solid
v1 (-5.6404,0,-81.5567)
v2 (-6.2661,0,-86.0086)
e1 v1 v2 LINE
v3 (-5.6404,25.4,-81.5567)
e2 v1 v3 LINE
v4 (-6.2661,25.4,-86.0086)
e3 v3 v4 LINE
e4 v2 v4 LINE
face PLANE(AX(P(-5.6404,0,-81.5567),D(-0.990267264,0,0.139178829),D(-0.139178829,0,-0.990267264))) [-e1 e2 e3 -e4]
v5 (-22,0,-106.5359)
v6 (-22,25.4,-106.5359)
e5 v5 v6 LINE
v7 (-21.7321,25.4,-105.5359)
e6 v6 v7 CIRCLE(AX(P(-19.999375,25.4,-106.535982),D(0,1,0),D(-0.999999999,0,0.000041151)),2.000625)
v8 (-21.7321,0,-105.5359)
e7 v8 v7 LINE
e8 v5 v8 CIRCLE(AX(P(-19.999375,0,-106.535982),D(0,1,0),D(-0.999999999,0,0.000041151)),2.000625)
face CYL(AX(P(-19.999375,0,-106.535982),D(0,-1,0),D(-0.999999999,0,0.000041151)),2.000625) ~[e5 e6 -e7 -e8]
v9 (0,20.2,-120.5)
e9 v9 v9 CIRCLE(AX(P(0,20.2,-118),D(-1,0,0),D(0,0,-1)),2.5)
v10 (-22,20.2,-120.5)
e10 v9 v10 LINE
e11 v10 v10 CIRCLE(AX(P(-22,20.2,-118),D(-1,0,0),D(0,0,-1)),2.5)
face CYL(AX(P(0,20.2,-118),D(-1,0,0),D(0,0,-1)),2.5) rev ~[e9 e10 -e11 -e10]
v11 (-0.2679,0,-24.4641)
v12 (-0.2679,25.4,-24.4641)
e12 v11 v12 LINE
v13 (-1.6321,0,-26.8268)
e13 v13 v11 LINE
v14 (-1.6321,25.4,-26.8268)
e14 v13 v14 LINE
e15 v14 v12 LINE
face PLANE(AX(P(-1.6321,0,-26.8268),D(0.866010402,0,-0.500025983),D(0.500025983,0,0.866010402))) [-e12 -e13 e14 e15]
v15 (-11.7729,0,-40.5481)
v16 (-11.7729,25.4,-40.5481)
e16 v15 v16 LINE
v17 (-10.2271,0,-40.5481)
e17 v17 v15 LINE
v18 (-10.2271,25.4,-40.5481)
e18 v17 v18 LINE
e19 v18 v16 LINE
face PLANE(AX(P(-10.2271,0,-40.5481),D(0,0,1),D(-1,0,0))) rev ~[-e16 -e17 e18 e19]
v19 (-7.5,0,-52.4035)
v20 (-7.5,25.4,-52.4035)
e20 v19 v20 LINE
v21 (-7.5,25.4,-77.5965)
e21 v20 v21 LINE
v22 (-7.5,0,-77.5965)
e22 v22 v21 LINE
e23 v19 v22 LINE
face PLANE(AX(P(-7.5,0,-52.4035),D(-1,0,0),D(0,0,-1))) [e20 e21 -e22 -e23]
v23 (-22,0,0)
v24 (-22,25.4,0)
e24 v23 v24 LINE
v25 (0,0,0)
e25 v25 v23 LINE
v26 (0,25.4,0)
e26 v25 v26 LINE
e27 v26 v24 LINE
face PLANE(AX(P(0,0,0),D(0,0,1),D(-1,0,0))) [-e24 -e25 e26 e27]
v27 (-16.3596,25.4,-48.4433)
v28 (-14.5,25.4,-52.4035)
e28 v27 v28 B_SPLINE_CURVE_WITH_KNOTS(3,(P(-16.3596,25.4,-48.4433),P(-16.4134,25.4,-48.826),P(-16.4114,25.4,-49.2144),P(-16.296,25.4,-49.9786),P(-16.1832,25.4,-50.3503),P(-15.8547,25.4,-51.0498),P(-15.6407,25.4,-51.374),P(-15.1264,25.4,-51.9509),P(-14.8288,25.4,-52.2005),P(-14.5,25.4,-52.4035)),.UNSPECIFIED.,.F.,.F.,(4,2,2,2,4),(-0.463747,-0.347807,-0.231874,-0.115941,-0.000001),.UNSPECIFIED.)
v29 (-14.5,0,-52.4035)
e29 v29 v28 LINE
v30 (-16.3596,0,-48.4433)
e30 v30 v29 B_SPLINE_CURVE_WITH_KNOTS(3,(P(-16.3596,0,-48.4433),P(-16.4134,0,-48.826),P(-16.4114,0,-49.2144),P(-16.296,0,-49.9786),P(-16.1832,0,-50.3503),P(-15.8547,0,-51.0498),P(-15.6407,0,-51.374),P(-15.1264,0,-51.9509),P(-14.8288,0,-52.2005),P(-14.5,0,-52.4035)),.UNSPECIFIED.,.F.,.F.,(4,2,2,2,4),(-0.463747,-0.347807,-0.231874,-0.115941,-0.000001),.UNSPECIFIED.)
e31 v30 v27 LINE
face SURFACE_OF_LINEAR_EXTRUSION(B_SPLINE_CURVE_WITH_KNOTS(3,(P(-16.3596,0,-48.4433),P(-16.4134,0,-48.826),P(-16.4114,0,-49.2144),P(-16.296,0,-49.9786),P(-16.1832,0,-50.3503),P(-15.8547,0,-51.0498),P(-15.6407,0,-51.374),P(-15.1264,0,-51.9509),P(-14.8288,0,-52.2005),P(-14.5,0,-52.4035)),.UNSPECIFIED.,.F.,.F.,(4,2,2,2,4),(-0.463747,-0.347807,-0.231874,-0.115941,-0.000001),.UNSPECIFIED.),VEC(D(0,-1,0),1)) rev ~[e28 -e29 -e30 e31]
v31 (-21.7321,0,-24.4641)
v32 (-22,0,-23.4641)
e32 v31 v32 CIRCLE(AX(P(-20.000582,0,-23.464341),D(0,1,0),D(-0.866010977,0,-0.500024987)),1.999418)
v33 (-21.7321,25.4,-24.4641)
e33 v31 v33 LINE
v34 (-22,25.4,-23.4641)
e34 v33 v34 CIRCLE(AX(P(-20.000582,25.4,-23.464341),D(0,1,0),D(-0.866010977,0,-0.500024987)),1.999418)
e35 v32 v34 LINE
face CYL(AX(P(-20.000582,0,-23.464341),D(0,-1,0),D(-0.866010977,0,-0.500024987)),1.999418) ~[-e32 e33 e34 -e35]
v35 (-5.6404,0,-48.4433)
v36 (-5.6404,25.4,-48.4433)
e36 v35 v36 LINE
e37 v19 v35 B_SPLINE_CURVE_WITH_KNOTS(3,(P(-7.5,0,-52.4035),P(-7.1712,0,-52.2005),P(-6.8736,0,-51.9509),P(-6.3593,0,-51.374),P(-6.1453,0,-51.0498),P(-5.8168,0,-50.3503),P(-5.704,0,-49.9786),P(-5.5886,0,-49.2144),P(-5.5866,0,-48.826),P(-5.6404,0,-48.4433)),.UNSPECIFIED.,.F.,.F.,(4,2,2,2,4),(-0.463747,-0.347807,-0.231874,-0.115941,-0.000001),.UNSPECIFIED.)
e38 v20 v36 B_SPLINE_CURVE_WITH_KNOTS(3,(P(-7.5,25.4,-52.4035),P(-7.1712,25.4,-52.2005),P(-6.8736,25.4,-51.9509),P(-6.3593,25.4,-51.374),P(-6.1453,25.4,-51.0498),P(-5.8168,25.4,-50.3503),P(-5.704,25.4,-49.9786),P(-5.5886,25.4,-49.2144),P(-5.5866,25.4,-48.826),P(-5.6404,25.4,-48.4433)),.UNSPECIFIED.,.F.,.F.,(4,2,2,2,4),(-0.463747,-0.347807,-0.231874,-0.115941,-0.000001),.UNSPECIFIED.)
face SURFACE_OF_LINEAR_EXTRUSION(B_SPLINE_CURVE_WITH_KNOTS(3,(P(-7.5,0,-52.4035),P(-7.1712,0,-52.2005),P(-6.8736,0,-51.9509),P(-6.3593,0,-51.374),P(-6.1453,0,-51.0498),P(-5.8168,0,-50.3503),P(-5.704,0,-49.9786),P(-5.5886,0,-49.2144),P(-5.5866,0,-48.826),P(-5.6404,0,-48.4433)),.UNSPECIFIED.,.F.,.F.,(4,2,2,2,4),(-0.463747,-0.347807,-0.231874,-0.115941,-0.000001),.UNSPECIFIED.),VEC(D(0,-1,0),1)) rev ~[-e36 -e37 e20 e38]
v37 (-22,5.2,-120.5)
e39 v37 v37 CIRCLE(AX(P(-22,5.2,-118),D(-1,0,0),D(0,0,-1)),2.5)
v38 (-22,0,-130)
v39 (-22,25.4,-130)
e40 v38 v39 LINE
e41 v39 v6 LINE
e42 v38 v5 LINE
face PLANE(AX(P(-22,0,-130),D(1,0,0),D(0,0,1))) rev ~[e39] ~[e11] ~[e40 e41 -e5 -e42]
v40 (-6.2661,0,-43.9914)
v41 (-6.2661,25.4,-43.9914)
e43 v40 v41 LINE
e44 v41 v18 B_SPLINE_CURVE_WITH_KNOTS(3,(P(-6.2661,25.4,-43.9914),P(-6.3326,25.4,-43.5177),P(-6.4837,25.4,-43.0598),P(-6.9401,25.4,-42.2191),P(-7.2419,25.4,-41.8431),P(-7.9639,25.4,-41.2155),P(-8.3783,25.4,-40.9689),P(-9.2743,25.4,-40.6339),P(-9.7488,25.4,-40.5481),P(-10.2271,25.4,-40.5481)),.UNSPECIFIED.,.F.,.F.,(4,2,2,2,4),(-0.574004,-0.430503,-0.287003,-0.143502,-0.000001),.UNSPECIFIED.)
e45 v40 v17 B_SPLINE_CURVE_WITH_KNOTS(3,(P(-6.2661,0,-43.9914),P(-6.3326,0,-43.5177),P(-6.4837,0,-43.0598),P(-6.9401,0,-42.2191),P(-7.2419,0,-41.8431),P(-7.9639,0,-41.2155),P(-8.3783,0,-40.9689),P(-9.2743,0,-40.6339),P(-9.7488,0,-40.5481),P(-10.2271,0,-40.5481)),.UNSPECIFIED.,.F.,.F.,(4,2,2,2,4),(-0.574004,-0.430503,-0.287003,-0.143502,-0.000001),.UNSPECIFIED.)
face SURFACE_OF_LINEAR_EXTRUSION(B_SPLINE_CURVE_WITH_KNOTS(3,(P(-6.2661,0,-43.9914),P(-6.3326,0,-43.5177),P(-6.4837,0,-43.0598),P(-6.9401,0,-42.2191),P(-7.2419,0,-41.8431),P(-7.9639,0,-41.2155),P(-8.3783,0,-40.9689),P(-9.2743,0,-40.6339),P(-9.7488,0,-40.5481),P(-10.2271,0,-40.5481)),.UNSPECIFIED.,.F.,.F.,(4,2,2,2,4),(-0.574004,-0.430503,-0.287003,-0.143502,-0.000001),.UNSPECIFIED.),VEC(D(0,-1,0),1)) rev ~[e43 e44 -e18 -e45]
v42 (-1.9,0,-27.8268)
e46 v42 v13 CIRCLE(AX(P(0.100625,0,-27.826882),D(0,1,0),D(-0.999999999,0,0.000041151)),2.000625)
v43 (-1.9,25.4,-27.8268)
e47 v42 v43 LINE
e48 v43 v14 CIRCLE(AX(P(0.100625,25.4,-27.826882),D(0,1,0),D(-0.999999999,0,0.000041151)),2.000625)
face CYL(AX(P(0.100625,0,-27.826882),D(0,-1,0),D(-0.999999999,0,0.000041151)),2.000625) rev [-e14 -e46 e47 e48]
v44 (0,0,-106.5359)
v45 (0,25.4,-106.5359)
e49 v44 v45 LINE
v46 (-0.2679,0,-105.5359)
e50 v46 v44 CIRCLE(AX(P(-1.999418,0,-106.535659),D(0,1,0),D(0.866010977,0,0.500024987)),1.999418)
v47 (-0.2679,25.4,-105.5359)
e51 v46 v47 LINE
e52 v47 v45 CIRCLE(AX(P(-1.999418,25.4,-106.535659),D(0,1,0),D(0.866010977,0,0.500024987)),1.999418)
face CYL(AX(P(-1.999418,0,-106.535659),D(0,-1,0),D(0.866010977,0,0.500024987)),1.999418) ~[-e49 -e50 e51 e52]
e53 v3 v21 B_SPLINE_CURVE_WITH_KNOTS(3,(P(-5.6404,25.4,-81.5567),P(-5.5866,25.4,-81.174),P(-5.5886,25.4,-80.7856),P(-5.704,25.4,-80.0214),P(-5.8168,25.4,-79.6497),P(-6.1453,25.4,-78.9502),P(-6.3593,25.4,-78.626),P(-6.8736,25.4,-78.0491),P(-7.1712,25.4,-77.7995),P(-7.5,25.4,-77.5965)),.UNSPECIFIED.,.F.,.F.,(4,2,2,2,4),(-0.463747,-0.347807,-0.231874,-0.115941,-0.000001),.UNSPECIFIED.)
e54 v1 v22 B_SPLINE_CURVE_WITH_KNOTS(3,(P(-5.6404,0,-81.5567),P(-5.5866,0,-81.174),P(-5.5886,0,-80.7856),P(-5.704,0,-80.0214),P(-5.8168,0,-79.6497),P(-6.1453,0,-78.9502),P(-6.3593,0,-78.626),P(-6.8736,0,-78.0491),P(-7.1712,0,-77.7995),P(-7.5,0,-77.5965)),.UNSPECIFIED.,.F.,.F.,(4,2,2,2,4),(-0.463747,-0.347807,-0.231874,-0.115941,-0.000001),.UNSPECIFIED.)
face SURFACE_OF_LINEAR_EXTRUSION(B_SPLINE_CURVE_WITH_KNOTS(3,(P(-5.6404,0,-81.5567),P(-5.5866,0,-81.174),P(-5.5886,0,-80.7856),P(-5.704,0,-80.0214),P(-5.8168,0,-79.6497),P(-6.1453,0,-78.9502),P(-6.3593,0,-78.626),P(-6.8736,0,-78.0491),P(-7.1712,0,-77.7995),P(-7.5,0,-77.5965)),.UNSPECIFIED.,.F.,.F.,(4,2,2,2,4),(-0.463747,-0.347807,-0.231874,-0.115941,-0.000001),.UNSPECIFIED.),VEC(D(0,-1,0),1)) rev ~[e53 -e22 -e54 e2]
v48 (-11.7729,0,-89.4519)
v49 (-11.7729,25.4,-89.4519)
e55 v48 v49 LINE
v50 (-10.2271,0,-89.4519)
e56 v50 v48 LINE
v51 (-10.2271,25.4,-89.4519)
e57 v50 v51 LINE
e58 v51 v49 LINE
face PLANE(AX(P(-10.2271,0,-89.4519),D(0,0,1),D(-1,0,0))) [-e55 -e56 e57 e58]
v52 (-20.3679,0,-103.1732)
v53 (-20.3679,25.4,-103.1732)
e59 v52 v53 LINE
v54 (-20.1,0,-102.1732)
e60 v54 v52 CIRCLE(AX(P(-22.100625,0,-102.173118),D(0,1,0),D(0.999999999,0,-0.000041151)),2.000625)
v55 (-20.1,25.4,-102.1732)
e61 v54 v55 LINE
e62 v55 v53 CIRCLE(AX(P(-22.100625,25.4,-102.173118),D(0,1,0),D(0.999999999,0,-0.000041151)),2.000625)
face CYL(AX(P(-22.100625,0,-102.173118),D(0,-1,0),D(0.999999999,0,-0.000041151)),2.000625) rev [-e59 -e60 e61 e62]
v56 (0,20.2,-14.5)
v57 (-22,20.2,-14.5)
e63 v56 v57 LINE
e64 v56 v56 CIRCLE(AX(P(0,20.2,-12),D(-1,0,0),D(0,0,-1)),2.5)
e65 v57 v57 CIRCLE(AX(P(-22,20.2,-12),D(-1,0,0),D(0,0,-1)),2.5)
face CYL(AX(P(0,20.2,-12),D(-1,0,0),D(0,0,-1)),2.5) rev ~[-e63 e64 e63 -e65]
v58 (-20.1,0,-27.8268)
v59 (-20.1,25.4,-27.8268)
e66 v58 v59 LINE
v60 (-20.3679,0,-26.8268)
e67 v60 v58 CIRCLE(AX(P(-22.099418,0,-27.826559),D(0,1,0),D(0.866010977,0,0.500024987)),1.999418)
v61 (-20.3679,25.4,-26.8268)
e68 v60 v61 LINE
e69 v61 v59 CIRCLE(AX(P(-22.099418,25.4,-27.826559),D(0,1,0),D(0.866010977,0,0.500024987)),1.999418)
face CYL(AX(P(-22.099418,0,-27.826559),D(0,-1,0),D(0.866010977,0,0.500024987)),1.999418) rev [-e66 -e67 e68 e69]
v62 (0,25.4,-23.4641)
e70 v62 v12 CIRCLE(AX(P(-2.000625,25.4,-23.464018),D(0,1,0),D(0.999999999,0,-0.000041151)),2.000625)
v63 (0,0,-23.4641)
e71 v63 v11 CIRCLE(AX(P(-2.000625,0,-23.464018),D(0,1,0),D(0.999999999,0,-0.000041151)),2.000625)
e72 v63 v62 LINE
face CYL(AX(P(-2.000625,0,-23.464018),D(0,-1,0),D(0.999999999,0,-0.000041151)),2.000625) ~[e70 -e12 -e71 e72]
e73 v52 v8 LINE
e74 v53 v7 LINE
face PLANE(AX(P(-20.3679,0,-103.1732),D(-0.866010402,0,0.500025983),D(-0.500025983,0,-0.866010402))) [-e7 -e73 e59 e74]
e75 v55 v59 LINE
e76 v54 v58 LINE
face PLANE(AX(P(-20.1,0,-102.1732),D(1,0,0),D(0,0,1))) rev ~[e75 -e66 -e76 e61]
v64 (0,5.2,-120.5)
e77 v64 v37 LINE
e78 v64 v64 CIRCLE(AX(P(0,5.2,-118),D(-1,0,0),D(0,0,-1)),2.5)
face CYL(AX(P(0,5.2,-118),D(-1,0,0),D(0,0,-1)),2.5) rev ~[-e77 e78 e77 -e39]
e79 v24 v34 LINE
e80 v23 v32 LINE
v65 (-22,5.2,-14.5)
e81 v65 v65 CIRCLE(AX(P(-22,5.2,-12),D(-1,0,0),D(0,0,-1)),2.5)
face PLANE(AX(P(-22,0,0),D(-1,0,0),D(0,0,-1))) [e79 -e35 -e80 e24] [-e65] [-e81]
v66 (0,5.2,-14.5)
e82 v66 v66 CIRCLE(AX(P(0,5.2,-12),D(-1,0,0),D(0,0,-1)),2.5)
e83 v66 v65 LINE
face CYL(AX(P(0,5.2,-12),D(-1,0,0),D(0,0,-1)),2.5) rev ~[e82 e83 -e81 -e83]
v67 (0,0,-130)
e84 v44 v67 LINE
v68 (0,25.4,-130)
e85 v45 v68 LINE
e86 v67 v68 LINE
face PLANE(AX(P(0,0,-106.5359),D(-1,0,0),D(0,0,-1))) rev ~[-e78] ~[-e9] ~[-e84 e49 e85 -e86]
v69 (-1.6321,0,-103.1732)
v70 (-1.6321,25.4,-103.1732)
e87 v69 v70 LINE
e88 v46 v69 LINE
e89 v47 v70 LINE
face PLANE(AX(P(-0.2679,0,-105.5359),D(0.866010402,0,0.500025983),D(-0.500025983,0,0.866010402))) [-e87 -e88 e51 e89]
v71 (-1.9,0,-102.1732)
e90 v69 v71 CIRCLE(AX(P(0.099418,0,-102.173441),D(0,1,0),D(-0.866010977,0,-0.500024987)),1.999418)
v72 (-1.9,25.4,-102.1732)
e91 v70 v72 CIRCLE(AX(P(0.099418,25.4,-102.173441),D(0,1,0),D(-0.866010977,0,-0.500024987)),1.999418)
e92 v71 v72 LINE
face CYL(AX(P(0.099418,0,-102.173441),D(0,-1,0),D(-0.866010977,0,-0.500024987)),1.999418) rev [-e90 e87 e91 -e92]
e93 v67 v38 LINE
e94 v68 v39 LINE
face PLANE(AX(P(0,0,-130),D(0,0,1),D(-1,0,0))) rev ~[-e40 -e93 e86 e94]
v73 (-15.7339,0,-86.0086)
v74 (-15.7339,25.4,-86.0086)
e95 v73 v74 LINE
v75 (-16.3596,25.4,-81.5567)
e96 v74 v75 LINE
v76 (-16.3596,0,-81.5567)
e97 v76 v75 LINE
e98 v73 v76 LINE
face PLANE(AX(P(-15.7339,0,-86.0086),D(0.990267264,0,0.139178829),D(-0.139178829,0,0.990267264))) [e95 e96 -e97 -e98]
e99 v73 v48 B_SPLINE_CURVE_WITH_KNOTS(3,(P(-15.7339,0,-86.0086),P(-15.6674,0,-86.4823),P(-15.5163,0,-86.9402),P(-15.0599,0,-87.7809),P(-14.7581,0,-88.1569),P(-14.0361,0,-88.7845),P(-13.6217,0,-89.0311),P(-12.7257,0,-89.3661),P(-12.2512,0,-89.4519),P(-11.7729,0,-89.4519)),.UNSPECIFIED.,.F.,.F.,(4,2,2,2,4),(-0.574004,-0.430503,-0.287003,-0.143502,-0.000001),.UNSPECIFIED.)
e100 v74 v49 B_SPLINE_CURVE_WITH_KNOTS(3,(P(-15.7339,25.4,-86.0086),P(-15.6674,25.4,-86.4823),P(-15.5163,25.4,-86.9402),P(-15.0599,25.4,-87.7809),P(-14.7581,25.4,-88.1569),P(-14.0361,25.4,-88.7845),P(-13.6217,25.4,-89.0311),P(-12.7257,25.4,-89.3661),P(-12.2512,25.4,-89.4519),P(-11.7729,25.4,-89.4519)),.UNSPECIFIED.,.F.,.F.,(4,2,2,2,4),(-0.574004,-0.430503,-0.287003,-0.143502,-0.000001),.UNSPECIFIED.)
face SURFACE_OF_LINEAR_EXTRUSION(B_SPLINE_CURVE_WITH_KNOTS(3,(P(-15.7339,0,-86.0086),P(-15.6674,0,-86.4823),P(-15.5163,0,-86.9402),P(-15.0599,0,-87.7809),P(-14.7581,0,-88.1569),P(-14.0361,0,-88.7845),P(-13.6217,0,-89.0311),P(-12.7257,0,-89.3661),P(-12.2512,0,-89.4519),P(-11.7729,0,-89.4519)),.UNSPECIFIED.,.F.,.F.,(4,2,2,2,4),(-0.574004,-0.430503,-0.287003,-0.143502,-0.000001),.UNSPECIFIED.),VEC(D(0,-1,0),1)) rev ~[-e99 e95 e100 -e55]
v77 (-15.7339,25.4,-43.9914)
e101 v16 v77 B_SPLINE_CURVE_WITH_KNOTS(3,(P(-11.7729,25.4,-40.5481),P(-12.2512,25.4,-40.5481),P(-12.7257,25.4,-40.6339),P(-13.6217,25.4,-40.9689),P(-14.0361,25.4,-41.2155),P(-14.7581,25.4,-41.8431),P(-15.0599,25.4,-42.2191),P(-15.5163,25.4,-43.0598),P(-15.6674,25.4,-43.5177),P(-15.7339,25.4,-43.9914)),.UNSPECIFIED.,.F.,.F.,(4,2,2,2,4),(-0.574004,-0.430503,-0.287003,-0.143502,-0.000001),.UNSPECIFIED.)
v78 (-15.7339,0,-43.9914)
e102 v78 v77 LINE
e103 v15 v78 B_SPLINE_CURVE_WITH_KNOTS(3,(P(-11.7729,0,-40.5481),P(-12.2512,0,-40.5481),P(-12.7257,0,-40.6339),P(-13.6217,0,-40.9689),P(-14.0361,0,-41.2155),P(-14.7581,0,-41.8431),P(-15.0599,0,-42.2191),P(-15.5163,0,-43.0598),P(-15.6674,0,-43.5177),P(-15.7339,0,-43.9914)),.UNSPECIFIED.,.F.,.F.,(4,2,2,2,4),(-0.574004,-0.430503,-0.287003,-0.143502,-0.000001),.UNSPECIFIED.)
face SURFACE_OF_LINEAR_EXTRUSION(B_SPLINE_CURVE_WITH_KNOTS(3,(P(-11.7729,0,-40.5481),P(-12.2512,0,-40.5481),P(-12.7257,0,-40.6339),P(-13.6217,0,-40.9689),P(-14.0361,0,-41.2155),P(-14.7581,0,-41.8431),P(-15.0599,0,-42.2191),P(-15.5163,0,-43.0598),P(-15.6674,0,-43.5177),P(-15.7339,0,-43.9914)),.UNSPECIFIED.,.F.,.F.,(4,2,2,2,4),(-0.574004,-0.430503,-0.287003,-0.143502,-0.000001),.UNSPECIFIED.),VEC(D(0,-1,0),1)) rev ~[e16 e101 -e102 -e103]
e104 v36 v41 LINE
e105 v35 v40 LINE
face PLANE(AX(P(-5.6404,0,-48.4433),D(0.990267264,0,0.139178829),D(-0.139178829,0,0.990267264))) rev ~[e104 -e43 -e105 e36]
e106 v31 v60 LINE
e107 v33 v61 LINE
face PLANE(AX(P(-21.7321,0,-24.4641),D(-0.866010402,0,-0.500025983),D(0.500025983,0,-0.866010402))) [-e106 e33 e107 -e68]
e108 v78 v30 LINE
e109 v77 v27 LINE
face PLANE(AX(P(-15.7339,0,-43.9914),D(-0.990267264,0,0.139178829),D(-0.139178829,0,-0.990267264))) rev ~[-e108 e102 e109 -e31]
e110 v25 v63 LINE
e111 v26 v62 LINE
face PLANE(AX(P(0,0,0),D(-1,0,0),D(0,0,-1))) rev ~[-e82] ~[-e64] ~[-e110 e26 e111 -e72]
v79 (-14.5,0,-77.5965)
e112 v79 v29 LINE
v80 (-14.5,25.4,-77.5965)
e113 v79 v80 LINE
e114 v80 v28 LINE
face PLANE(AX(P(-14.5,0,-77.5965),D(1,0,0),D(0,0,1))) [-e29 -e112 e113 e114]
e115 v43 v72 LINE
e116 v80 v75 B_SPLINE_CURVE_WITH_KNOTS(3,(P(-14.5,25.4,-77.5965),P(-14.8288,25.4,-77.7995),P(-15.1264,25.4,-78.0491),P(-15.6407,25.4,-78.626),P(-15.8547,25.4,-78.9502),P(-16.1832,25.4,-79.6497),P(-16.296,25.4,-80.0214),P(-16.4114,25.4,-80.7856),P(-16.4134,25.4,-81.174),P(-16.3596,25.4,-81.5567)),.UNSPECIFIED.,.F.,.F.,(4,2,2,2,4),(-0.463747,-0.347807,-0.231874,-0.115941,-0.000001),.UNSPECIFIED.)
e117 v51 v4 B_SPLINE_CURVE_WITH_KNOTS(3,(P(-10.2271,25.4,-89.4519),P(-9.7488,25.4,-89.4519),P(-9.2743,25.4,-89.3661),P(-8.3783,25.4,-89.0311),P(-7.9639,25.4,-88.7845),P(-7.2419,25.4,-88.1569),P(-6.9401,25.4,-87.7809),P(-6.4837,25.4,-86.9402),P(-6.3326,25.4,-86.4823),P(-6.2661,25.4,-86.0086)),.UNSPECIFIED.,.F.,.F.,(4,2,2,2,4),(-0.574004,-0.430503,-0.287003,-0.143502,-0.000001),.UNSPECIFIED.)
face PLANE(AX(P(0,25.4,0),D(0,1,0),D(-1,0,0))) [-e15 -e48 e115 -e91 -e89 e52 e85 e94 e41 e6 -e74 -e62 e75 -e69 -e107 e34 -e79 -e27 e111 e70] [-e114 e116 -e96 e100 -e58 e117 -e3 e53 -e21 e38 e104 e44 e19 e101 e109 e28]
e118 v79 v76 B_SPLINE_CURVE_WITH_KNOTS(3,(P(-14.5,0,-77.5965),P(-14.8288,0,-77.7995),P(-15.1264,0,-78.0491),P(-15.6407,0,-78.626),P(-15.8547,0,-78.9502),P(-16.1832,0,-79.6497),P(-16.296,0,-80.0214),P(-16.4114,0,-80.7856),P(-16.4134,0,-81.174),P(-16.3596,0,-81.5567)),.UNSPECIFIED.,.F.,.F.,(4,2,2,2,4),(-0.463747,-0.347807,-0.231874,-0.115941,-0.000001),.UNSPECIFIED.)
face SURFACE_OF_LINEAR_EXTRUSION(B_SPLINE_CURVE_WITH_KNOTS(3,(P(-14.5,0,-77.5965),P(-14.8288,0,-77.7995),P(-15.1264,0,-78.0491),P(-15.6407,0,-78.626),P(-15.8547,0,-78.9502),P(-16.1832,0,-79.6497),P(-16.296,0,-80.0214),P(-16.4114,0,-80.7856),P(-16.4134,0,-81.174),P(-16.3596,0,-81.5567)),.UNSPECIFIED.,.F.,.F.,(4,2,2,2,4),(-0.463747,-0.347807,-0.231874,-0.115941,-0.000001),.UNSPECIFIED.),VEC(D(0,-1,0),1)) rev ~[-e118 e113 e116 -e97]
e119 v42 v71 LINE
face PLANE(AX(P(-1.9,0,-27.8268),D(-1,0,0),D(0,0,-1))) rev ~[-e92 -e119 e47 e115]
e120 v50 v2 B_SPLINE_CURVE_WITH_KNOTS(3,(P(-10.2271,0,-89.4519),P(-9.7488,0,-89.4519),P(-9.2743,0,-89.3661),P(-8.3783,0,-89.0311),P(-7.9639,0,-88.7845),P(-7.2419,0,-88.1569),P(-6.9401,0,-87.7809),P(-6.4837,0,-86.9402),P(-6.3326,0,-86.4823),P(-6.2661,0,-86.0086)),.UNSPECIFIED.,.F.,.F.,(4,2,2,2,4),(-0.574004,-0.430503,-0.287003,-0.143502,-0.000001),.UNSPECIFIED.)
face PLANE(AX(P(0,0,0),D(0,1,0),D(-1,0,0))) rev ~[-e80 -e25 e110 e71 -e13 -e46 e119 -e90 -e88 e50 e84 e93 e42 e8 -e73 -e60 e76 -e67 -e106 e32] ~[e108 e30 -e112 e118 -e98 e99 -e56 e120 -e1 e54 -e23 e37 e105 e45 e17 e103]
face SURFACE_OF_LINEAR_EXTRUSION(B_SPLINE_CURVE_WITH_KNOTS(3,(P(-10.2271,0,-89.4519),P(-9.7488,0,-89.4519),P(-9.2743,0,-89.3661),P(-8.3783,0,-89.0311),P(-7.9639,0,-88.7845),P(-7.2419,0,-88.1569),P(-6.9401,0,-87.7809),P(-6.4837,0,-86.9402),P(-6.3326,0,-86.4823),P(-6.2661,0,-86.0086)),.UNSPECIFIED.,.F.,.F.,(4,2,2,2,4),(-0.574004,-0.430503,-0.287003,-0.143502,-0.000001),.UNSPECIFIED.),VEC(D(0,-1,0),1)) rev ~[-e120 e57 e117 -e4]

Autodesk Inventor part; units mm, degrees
ref_plane "YZ Plane" through (0, 0, 0) normal (1, 0, 0) x (0, 1, 0)
ref_plane "XZ Plane" through (0, 0, 0) normal (0, 1, 0) x (-1, 0, 0)
ref_plane "XY Plane" through (0, 0, 0) normal (0, 0, 1) x (1, 0, 0)
sketch "Esboço1" plane through (0, 0, 0) normal (0, 1, 0) x (-1, 0, 0)
  line L0 (0, 0) -> (22, 0)
  line L1 (22, 0) -> (22, -23.4641)
  line L2 (22, -24) -> (25.6764, -24) construction
  line L3 (0, 0) -> (0, -23.4641)
  line L4 (1.9, -27.8268) -> (1.9, -102.1732)
  line L5 (0, -106.5359) -> (0, -130)
  line L6 (0, -130) -> (22, -130)
  line L7 (22, -130) -> (22, -106.5359)
  line L8 (20.1, -102.1732) -> (20.1, -27.8268)
  line L9 (21.7321, -24.4641) -> (20.3679, -26.8268)
  line L10 (1.6321, -26.8268) -> (0.2679, -24.4641)
  line L11 (20.3679, -103.1732) -> (21.7321, -105.5359)
  line L12 (0.2679, -105.5359) -> (1.6321, -103.1732)
  arc A0 (21.7321, -24.4641) -> (22, -23.4641) centre (20, -23.4641) ccw
  arc A1 (20.3679, -26.8268) -> (20.1, -27.8268) centre (22.1, -27.8268) ccw
  arc A2 (1.9, -27.8268) -> (1.6321, -26.8268) centre (-0.1, -27.8268) ccw
  arc A3 (0, -23.4641) -> (0.2679, -24.4641) centre (2, -23.4641) ccw
  arc A4 (22, -106.5359) -> (21.7321, -105.5359) centre (20, -106.5359) ccw
  arc A5 (20.1, -102.1732) -> (20.3679, -103.1732) centre (22.1, -102.1732) ccw
  arc A6 (1.6321, -103.1732) -> (1.9, -102.1732) centre (-0.1, -102.1732) ccw
  arc A7 (0.2679, -105.5359) -> (0, -106.5359) centre (2, -106.5359) ccw
  line L13 (7.5, -52.4035) -> (7.5, -77.5965)
  spline S0 degree 3 poles (7.5, -52.4035) (7.1712, -52.2005) (6.8736, -51.9509) (6.3593, -51.374) (6.1453, -51.0498) (5.8168, -50.3503) (5.704, -49.9786) (5.5886, -49.2144) (5.5866, -48.826) (5.6404, -48.4433) knots -0.463747 -0.463747 -0.463747 -0.463747 -0.347807 -0.347807 -0.231874 -0.231874 -0.115941 -0.115941 -0.000001 -0.000001 -0.000001 -0.000001
  line L14 (5.6404, -48.4433) -> (6.2661, -43.9914)
  spline S1 degree 3 poles (6.2661, -43.9914) (6.3326, -43.5177) (6.4837, -43.0598) (6.9401, -42.2191) (7.2419, -41.8431) (7.9639, -41.2155) (8.3783, -40.9689) (9.2743, -40.6339) (9.7488, -40.5481) (10.2271, -40.5481) knots -0.574004 -0.574004 -0.574004 -0.574004 -0.430503 -0.430503 -0.287003 -0.287003 -0.143502 -0.143502 -0.000001 -0.000001 -0.000001 -0.000001
  line L15 (10.2271, -40.5481) -> (11.7729, -40.5481)
  spline S2 degree 3 poles (11.7729, -40.5481) (12.2512, -40.5481) (12.7257, -40.6339) (13.6217, -40.9689) (14.0361, -41.2155) (14.7581, -41.8431) (15.0599, -42.2191) (15.5163, -43.0598) (15.6674, -43.5177) (15.7339, -43.9914) knots -0.574004 -0.574004 -0.574004 -0.574004 -0.430503 -0.430503 -0.287003 -0.287003 -0.143502 -0.143502 -0.000001 -0.000001 -0.000001 -0.000001
  line L16 (15.7339, -43.9914) -> (16.3596, -48.4433)
  spline S3 degree 3 poles (16.3596, -48.4433) (16.4134, -48.826) (16.4114, -49.2144) (16.296, -49.9786) (16.1832, -50.3503) (15.8547, -51.0498) (15.6407, -51.374) (15.1264, -51.9509) (14.8288, -52.2005) (14.5, -52.4035) knots -0.463747 -0.463747 -0.463747 -0.463747 -0.347807 -0.347807 -0.231874 -0.231874 -0.115941 -0.115941 -0.000001 -0.000001 -0.000001 -0.000001
  line L17 (14.5, -77.5965) -> (14.5, -52.4035)
  spline S4 degree 3 poles (14.5, -77.5965) (14.8288, -77.7995) (15.1264, -78.0491) (15.6407, -78.626) (15.8547, -78.9502) (16.1832, -79.6497) (16.296, -80.0214) (16.4114, -80.7856) (16.4134, -81.174) (16.3596, -81.5567) knots -0.463747 -0.463747 -0.463747 -0.463747 -0.347807 -0.347807 -0.231874 -0.231874 -0.115941 -0.115941 -0.000001 -0.000001 -0.000001 -0.000001
  line L18 (15.7339, -86.0086) -> (16.3596, -81.5567)
  spline S5 degree 3 poles (15.7339, -86.0086) (15.6674, -86.4823) (15.5163, -86.9402) (15.0599, -87.7809) (14.7581, -88.1569) (14.0361, -88.7845) (13.6217, -89.0311) (12.7257, -89.3661) (12.2512, -89.4519) (11.7729, -89.4519) knots -0.574004 -0.574004 -0.574004 -0.574004 -0.430503 -0.430503 -0.287003 -0.287003 -0.143502 -0.143502 -0.000001 -0.000001 -0.000001 -0.000001
  spline S6 degree 3 poles (10.2271, -89.4519) (9.7488, -89.4519) (9.2743, -89.3661) (8.3783, -89.0311) (7.9639, -88.7845) (7.2419, -88.1569) (6.9401, -87.7809) (6.4837, -86.9402) (6.3326, -86.4823) (6.2661, -86.0086) knots -0.574004 -0.574004 -0.574004 -0.574004 -0.430503 -0.430503 -0.287003 -0.287003 -0.143502 -0.143502 -0.000001 -0.000001 -0.000001 -0.000001
  line L19 (10.2271, -89.4519) -> (11.7729, -89.4519)
  line L20 (5.6404, -81.5567) -> (6.2661, -86.0086)
  spline S7 degree 3 poles (5.6404, -81.5567) (5.5866, -81.174) (5.5886, -80.7856) (5.704, -80.0214) (5.8168, -79.6497) (6.1453, -78.9502) (6.3593, -78.626) (6.8736, -78.0491) (7.1712, -77.7995) (7.5, -77.5965) knots -0.463747 -0.463747 -0.463747 -0.463747 -0.347807 -0.347807 -0.231874 -0.231874 -0.115941 -0.115941 -0.000001 -0.000001 -0.000001 -0.000001
  point P0 (20.1, -27.2909)
  point P1 (0, -24)
  point P2 (1.9, -27.2909)
  point P3 (0, -106)
  point P4 (22, -106)
  point P5 (20.1, -102.7091)
  point P6 (11, -130)
  point P7 (11, -89.4519)
  point P8 (11, -40.5481)
  point P9 (20.1, -65)
  point P10 (14.5, -65)
  dimension "d0" = 22
  dimension "d1" = 24
  dimension "d4" = 3.8
  dimension "d6" = 3.8
  dimension "d7" = 24
  dimension "d8" = 18.2
  dimension "d10" = 0
  dimension "d11" = 130
  dimension "d12" = 1.9
  dimension "d13" = 2
  dimension "d14" = 2
  dimension "d38" = 7
  dimension "d39" = 7
  dimension "d40" = 4.4957
  dimension "d41" = 4.4957
  dimension "d42" = 4.4519
  dimension "d43" = 0.6257
  dimension "d44" = 172
  dimension "d45" = 1.5457
  dimension "d46" = 1.5457
  dimension "d47" = 0.6257
  dimension "d48" = 4.4519
  dimension "d49" = 3.9611
  dimension "d50" = 3.4433
  dimension "d51" = 9.4679
  dimension "d52" = 3.9611
  dimension "d53" = 3.9602
  dimension "d54" = 1.8596
  dimension "d55" = 4.4519
  dimension "d56" = 3.9602
  dimension "d57" = 3.9602
  dimension "d58" = 4.3751
  dimension "d59" = 1.8596
  dimension "d60" = 3.9611
  dimension "d61" = 3.9611
  dimension "d62" = 3.4433
  dimension "d63" = 3.4433
  dimension "d64" = 0
  dimension "d65" = 48.9038
  dimension "d67" = 0
extrude "Extrusão1" add sketch "Esboço1" along normal blind 25.4
sketch "Esboço2" plane through (0, 0, 0) normal (1, 0, 0) x (0, 0, -1)
  line L0 (0, 0) -> (0, 25.4) projected
  line L1 (0, 25.4) -> (23.4641, 25.4) projected
  line L2 (130, 0) -> (130, 25.4) projected
  line L3 (106.5359, 25.4) -> (130, 25.4) projected
  point P0 (12, 20.2)
  point P1 (12, 5.2)
  point P2 (118, 20.2)
  point P3 (118, 5.2)
  point P4 (11.7321, 25.4)
  dimension "d70" = 15
  dimension "d72" = 25.4
  dimension "d73" = 5.2
  dimension "d74" = 0
  dimension "d75" = 12
  dimension "d76" = 15
  dimension "d77" = 12
  dimension "d78" = 0
  dimension "d79" = 5.2
hole "Furo1" at (0, 20.2, -12) at (0, 5.2, -12) at (0, 20.2, -118) at (0, 5.2, -118) direction (-1, 0, 0) diameter 5 end through all
equation "\"d7\" = d1"
equation "\"d12\" = -0.5 * d8 + 0.5 * d0"
equation "\"d73\" = -0.5 * d70 + 0.5 * d72"
equation "\"d76\" = d70"
equation "\"d77\" = d75"
equation "\"d79\" = d73"
equation "\"d85\" = Espessura"
equation "\"Raio_vergadura\" = Espessura"
equation "\"Largura_alívio_de_vergadura\" = Espessura"
equation "\"Profundidade_alívio_de_vergadura\" = 0.5 * Espessura"
equation "\"Tamanho_alívio_de_dobra\" = 4 * Espessura"
equation "\"Remanescente_mínimo\" = 2 * Espessura"
equation "\"Raiodetransição\" = Raio_vergadura"
equation "\"Tamanho_de_raio_de_Jacobi\" = Raio_vergadura"
equation "\"TamanhoFolga\" = Espessura"
equation "\"Espessura\" = 0.5"
properties part number "Célula de carga" material "Alumínio 6061"
